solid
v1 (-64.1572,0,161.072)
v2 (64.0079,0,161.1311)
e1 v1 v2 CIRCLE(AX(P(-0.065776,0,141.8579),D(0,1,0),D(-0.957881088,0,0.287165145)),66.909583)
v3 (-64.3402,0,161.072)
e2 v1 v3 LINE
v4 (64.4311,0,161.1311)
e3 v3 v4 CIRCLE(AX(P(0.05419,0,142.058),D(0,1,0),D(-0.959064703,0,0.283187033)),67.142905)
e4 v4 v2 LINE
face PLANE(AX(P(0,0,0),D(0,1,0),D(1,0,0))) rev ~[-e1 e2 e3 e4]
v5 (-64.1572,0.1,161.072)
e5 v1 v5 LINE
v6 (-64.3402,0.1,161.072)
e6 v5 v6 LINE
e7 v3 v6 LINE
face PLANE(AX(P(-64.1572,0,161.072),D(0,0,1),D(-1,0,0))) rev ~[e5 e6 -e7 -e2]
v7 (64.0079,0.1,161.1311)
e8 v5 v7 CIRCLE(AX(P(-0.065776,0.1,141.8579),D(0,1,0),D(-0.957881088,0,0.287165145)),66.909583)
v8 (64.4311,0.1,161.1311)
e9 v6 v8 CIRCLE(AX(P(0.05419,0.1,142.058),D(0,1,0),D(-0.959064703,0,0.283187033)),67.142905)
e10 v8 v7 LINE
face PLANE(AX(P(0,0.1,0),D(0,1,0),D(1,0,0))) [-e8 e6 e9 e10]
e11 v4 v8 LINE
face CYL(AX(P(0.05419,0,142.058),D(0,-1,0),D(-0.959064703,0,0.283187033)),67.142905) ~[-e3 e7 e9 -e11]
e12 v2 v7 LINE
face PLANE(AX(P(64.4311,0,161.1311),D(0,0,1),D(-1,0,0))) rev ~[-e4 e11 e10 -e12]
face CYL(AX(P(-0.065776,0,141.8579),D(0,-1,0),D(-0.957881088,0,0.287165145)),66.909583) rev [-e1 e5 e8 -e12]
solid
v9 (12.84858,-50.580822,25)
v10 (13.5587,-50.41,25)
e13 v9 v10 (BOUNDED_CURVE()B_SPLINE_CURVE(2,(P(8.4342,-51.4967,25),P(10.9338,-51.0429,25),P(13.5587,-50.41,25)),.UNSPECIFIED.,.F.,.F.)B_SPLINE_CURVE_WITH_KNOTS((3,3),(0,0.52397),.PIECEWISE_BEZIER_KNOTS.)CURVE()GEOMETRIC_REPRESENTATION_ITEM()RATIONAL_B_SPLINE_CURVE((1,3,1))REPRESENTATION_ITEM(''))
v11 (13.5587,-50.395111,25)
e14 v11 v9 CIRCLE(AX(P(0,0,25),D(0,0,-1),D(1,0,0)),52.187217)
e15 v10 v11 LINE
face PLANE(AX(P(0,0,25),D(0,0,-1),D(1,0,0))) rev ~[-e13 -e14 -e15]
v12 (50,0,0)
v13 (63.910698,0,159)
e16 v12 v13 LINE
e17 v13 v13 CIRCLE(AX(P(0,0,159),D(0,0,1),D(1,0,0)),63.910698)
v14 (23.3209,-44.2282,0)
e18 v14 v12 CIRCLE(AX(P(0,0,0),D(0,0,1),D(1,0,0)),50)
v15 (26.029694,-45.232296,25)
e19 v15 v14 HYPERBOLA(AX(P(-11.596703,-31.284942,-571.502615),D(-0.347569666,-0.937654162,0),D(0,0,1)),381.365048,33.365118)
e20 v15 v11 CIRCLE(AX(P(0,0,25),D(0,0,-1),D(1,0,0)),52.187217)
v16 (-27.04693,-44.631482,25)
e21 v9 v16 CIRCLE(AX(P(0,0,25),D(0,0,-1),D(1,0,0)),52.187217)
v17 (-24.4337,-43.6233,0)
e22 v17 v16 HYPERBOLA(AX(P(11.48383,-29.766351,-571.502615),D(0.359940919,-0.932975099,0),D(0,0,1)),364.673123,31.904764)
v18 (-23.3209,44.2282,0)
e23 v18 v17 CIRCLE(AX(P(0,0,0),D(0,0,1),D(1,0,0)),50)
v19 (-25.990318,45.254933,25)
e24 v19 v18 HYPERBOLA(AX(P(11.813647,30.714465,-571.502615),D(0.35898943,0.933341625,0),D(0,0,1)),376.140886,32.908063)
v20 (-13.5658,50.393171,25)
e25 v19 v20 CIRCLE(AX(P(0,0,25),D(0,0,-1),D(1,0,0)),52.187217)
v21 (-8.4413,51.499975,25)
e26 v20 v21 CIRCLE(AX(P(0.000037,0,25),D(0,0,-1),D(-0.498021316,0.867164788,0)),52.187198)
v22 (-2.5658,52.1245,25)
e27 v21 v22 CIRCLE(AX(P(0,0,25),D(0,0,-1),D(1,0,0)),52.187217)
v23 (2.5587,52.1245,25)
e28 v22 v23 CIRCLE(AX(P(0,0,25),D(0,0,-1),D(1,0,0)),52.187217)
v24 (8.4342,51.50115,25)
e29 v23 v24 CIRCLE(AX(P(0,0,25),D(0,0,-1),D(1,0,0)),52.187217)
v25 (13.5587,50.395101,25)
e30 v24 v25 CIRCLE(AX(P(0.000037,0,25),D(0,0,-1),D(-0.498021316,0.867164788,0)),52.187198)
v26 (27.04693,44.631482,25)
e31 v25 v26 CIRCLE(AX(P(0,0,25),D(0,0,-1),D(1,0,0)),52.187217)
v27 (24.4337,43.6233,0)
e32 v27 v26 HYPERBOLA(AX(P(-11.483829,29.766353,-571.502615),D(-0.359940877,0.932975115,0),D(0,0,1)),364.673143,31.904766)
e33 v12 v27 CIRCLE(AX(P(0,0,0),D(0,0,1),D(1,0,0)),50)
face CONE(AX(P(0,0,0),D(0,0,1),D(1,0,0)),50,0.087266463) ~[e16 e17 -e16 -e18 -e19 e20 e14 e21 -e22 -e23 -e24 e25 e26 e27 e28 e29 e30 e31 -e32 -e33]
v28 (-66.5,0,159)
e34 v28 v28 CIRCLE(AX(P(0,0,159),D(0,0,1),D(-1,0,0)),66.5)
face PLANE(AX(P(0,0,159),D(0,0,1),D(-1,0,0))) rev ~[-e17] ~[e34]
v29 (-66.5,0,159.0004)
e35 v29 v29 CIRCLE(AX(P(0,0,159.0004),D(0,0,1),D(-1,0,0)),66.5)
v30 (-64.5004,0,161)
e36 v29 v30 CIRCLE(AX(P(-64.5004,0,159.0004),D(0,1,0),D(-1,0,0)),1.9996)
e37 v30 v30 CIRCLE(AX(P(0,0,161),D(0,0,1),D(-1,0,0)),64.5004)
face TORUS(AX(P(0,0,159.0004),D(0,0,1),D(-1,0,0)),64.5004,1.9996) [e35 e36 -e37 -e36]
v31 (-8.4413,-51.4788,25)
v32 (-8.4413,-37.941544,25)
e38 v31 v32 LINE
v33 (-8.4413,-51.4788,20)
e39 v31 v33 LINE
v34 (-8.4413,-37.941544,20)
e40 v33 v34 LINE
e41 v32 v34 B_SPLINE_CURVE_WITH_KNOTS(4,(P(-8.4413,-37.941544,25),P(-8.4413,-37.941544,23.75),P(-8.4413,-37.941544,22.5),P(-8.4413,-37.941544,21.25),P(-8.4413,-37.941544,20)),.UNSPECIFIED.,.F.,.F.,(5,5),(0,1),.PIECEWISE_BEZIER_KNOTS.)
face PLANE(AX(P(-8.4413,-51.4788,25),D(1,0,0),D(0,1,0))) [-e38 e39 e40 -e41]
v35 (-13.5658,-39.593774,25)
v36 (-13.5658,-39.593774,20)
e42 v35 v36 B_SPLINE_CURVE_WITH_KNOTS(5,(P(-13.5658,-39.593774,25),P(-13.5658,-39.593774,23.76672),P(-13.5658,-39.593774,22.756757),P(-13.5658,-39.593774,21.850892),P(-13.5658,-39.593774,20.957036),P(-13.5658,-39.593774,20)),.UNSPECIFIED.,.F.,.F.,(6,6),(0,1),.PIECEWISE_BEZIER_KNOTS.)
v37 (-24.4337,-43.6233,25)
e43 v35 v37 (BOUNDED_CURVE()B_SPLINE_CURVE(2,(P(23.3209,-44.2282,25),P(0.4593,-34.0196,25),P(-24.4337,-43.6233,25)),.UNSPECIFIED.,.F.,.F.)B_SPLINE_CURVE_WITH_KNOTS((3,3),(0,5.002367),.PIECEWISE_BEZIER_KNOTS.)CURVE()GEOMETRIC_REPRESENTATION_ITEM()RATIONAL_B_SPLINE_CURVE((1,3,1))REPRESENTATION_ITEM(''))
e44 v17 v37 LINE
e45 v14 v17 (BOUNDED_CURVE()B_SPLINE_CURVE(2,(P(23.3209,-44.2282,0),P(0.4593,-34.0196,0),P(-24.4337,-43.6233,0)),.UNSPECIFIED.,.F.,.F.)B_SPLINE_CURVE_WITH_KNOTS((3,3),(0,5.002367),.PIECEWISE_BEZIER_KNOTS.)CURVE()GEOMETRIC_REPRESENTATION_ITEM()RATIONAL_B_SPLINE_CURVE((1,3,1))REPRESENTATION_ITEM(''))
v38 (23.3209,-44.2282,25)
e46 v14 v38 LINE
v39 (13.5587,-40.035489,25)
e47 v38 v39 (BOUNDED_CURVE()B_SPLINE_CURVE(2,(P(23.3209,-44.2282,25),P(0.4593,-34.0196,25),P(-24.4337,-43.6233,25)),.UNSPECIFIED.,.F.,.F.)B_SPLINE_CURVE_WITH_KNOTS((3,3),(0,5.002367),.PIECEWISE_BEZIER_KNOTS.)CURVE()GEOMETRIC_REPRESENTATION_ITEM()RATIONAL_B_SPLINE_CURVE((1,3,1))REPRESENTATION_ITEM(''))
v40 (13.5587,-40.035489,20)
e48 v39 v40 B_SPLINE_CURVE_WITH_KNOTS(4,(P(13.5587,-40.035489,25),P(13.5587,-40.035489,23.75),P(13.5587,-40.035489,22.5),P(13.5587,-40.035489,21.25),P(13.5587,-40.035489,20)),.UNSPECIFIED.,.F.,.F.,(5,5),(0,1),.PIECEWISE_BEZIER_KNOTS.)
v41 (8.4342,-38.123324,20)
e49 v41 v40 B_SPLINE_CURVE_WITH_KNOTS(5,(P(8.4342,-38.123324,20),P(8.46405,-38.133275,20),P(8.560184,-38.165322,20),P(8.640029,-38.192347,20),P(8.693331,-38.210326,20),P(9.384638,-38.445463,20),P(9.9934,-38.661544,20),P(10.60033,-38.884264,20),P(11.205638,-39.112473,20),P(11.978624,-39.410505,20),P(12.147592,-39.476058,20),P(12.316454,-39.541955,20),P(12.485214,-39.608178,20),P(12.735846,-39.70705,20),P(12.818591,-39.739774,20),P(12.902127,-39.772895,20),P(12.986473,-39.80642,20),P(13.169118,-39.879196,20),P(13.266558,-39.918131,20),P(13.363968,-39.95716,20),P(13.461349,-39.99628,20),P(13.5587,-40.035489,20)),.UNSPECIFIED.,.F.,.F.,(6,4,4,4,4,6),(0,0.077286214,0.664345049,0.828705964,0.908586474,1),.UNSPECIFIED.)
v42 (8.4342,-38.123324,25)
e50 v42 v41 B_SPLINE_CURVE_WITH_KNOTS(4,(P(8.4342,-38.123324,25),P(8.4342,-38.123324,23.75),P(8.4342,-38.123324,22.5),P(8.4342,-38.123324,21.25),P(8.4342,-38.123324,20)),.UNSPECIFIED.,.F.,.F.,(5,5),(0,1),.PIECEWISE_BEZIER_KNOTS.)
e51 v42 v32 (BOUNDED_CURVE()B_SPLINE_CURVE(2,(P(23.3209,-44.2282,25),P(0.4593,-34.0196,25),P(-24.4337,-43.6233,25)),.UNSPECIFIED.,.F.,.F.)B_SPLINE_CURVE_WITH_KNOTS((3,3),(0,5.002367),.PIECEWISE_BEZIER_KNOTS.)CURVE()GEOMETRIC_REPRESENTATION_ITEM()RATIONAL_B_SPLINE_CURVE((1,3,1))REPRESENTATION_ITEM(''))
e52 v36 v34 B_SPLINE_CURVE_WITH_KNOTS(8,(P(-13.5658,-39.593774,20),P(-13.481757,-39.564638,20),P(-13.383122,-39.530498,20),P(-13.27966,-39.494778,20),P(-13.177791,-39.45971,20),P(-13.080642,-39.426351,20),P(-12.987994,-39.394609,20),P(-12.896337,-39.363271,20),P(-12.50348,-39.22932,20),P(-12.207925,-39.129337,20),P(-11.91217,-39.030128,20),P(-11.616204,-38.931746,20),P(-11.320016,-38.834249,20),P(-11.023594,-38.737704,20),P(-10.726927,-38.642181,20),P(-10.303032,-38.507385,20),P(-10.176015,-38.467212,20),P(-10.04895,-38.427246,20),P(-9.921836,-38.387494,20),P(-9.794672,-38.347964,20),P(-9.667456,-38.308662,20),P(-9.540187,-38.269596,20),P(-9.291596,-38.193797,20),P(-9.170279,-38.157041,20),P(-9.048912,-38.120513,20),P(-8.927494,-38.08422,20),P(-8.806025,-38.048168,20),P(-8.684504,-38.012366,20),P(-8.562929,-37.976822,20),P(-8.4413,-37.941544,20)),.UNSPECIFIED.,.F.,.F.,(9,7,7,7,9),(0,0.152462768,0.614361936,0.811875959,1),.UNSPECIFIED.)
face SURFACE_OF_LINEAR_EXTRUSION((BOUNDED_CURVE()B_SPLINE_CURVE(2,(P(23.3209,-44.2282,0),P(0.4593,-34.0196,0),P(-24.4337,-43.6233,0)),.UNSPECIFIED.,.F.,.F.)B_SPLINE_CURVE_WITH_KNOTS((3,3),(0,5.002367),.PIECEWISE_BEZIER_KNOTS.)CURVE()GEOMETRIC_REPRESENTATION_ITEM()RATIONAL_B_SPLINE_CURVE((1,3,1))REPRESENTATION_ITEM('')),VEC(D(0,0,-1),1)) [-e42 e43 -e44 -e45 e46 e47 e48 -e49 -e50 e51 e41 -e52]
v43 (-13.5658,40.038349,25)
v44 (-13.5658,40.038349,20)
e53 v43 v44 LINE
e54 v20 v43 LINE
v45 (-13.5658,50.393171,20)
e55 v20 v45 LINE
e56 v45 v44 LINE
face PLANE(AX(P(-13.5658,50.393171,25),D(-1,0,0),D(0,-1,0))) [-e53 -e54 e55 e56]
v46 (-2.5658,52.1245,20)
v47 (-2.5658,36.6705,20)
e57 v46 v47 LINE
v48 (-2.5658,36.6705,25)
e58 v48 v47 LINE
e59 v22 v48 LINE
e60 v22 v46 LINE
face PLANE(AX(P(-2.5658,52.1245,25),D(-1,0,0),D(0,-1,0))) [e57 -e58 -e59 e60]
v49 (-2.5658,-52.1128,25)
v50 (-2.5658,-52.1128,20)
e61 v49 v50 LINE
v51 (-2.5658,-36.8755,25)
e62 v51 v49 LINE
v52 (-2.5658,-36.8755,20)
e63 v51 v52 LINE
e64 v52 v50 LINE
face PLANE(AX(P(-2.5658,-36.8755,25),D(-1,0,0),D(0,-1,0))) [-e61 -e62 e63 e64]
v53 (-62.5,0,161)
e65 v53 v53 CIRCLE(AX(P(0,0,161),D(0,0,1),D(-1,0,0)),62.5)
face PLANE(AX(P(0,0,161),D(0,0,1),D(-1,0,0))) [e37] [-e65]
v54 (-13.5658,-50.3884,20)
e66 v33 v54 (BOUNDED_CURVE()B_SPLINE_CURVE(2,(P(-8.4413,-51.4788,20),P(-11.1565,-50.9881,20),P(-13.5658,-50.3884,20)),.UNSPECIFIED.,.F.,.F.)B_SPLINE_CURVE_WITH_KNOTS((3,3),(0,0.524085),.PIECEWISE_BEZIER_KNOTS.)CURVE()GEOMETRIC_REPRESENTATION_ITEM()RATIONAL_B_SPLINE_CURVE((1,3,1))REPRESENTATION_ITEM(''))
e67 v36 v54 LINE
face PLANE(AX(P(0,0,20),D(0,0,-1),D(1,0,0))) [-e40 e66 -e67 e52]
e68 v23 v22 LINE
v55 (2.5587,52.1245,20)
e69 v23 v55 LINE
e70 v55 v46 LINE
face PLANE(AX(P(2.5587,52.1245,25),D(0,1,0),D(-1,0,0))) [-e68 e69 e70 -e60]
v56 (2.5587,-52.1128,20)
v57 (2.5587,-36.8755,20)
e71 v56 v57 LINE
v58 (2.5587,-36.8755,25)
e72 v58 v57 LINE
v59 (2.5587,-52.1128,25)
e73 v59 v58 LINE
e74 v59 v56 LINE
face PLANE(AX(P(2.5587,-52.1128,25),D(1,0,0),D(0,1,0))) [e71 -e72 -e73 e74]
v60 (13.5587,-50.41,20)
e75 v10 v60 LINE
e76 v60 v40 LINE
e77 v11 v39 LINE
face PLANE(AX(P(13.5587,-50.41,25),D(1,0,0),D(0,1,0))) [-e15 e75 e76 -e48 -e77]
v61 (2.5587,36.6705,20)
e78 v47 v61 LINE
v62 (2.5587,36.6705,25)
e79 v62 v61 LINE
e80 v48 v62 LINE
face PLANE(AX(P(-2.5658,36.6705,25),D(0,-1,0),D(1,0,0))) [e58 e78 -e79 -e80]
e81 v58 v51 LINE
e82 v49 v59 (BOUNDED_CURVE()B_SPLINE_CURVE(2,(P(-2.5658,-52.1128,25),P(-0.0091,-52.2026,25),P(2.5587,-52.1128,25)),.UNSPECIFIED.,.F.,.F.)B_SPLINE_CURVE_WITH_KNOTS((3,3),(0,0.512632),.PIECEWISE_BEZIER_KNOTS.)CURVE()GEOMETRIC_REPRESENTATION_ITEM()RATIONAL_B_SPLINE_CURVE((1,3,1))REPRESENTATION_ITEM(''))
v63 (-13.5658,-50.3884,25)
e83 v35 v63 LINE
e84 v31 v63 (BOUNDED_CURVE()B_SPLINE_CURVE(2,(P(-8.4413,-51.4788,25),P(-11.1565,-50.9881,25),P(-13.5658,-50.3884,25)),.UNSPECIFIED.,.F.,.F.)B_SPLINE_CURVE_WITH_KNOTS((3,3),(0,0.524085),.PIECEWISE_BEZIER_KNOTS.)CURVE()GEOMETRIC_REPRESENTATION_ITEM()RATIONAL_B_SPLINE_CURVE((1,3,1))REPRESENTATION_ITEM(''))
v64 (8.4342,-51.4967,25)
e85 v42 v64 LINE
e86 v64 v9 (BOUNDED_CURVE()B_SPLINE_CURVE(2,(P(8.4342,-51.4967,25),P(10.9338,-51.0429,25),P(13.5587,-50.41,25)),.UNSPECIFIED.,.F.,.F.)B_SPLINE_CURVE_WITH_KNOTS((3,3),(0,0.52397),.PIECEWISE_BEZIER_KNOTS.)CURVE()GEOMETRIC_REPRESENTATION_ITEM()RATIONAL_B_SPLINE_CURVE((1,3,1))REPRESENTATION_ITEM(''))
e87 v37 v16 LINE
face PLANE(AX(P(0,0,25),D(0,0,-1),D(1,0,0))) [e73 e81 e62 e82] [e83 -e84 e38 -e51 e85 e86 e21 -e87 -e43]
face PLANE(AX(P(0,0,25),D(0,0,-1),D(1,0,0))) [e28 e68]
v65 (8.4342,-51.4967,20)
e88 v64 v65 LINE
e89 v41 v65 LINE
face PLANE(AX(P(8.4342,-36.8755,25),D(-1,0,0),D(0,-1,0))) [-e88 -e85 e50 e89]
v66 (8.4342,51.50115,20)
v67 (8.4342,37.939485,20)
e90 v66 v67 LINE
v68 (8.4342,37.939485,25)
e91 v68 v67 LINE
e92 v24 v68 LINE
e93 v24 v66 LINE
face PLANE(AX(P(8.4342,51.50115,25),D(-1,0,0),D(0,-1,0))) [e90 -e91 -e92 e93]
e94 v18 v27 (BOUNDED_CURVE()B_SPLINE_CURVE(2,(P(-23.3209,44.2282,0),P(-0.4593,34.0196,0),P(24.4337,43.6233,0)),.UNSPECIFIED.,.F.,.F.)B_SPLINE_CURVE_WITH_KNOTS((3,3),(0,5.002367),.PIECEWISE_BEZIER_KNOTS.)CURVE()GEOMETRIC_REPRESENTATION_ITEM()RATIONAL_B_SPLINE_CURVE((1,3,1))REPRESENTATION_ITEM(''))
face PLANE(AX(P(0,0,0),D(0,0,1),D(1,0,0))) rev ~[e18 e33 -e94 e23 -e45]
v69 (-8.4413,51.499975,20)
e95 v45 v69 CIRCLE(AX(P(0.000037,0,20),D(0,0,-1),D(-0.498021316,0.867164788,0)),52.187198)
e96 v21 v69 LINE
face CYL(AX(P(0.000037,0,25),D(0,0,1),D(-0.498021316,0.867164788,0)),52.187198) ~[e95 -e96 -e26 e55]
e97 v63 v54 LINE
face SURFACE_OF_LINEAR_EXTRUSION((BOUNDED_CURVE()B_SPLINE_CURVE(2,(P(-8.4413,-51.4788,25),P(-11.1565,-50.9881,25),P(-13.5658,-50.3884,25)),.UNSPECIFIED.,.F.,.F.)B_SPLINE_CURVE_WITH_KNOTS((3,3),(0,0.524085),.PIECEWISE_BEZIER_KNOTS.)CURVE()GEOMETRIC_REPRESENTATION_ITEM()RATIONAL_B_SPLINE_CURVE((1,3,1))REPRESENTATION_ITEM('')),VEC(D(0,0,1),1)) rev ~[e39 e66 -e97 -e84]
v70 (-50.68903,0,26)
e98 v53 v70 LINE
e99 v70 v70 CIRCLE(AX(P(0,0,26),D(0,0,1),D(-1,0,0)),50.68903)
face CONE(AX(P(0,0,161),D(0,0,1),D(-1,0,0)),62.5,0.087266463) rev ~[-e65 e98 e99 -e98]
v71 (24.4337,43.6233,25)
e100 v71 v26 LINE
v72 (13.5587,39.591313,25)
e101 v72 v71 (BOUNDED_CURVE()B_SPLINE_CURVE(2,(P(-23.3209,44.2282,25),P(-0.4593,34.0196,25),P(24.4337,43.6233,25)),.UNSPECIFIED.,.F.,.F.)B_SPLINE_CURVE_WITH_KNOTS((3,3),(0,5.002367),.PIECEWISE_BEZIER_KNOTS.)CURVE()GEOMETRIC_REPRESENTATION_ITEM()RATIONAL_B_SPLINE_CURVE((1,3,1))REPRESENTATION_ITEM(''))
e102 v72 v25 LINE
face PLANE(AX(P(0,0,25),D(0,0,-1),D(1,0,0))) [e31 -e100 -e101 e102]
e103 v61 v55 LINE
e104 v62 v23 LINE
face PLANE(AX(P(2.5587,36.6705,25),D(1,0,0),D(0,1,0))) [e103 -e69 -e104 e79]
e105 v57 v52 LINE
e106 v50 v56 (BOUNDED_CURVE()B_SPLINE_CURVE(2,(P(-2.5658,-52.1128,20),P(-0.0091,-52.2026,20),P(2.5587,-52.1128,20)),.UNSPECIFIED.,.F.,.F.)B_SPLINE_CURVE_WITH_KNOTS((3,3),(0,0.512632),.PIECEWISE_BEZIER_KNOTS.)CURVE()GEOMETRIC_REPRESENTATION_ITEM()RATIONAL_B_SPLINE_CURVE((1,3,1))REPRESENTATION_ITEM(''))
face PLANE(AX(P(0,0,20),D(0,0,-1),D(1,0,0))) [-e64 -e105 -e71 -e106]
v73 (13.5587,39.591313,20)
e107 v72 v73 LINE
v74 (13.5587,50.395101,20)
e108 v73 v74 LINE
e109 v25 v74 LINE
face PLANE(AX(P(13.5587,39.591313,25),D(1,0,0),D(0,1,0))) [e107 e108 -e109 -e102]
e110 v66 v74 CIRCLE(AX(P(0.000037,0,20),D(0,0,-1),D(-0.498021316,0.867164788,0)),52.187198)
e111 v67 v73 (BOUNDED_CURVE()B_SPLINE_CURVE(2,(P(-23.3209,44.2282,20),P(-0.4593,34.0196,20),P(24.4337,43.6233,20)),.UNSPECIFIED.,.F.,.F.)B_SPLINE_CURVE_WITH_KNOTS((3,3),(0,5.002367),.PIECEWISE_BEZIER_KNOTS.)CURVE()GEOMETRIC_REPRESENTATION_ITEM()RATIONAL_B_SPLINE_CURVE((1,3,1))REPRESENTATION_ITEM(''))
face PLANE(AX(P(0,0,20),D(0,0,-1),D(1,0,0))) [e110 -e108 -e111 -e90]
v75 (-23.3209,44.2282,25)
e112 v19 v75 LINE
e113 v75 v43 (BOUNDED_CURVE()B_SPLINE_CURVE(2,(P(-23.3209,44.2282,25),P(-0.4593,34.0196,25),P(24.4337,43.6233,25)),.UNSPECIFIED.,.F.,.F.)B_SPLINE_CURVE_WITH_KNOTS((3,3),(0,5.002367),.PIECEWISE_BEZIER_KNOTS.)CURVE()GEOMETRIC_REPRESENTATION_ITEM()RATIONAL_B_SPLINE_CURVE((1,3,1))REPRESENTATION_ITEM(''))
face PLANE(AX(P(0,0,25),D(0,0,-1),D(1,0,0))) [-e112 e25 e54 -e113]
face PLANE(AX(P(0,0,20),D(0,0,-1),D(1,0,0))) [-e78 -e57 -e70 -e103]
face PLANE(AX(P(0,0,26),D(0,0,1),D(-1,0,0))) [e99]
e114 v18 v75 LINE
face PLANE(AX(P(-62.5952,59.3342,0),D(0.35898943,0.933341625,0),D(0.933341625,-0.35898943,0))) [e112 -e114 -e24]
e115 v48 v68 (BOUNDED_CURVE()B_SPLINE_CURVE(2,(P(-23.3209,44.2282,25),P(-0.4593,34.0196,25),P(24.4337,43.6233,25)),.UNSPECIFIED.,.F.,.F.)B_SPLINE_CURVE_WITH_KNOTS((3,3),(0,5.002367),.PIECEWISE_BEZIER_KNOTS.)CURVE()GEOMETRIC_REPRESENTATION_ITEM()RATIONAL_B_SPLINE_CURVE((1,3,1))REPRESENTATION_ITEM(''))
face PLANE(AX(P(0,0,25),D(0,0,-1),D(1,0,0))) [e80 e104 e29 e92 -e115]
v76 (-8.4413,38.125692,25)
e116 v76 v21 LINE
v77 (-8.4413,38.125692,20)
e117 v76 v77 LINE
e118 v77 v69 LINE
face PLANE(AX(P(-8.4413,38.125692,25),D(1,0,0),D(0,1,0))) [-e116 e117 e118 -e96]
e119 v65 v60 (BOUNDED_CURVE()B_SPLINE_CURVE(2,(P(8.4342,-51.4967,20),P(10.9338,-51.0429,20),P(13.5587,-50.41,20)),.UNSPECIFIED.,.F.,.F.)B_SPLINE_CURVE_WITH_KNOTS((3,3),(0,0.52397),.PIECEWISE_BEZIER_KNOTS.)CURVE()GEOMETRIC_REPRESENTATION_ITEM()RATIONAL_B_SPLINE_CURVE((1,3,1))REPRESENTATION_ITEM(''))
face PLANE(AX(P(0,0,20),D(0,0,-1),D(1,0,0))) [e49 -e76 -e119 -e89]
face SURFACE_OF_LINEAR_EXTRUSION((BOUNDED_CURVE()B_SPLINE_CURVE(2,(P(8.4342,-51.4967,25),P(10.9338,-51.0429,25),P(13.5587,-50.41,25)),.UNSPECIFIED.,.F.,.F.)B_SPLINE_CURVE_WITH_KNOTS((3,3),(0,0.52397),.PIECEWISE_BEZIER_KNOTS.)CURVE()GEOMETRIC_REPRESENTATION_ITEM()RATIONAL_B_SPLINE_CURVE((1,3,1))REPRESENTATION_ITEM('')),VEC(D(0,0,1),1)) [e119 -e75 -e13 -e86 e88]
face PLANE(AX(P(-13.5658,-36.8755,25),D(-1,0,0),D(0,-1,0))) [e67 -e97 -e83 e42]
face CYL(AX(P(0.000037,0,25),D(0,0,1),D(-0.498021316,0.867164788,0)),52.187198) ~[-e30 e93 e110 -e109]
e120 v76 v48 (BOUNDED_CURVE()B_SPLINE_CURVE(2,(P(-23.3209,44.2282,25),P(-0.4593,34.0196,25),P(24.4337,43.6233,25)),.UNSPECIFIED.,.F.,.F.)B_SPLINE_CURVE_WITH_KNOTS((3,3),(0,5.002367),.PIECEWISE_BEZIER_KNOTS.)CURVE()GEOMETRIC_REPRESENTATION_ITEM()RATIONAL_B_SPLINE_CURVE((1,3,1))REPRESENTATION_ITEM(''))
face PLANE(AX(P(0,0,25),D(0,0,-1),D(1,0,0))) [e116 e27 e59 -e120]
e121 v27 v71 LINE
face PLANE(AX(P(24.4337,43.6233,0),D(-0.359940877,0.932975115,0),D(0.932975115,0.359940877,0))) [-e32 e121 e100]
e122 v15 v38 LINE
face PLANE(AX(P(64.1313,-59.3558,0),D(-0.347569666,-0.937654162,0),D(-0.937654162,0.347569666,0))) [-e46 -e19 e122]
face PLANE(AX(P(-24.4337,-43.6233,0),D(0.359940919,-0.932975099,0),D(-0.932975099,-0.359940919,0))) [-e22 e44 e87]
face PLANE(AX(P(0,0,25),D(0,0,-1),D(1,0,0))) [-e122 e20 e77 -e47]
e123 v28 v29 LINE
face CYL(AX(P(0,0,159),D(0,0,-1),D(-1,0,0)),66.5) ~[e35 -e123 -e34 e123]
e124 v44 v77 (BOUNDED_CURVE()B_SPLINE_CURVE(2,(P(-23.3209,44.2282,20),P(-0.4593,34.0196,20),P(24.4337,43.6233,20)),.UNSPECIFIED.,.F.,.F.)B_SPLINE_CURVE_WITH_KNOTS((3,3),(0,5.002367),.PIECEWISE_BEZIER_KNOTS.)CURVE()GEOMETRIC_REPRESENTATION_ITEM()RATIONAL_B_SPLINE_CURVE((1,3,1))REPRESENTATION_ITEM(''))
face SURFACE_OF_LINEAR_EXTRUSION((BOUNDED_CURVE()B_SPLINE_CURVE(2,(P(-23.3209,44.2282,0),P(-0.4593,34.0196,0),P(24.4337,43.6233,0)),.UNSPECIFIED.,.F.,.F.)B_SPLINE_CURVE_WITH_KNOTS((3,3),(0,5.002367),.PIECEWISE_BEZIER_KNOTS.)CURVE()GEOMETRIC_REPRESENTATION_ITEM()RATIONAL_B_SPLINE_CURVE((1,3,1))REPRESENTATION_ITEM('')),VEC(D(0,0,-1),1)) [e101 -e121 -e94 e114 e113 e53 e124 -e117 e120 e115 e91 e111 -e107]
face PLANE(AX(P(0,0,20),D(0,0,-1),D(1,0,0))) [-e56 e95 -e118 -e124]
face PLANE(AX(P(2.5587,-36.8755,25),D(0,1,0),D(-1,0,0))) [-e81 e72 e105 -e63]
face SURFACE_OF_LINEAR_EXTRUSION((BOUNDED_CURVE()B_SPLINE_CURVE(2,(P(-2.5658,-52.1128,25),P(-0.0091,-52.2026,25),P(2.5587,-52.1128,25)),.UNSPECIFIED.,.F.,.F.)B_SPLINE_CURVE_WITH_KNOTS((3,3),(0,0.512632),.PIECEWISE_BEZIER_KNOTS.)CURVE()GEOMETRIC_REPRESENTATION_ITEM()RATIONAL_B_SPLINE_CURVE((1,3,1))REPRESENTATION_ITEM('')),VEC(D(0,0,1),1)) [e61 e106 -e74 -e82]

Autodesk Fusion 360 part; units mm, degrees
sketch "Sketch1" plane through (0, 0, 0) normal (0, 0, 1) x (1, 0, 0)
  circle A0 centre (0, 0) radius 50
  dimension "d1" = 100
extrude "Extrude1" add sketch "Sketch1" along normal blind 159 draft 5 makes body 1
sketch "Sketch2" plane through (0, 0, 159) normal (0, 0, 1) x (-1, 0, 0)
  circle A0 centre (0, 0) radius 63.9107
  circle A1 centre (0, 0) radius 66.5
  dimension "d4" = 133
extrude "Extrude2" add sketch "Sketch2" along normal blind 2 contours A0 | A1 bodies 1
fillet "Fillet1" radius 2 1 edges at (61.9998, 24.0474, 161) on bodies 1
sketch "Sketch3" plane through (0, 0, 0) normal (0, 0, -1) x (1, 0, 0)
  circle A0 centre (0, 0) radius 50
  spline S0 degree 2 poles (-23.3209, -44.2282) (-0.4593, -34.0196) (24.4337, -43.6233) knots 0 0 0 5.002367 5.002367 5.002367 weights 1 3 1
  spline S1 degree 2 poles (23.3209, 44.2282) (0.4593, 34.0196) (-24.4337, 43.6233) knots 0 0 0 5.002367 5.002367 5.002367 weights 1 3 1
  line L0 (-24.4337, 43.6233) -> (-65.2127, 59.3558)
  line L1 (-65.2127, 59.3558) -> (25.469, 113.112)
  line L2 (25.469, 113.112) -> (64.1313, 59.3558)
  line L3 (64.1313, 59.3558) -> (23.3209, 44.2282)
  line L4 (24.4337, -43.6233) -> (80.8509, -65.389)
  line L5 (80.8509, -65.389) -> (-53.5394, -115.2046)
  line L6 (-53.5394, -115.2046) -> (-62.5952, -59.3342)
  line L7 (-62.5952, -59.3342) -> (-23.3209, -44.2282)
  dimension "d10" = 360
extrude "Extrude3" cut sketch "Sketch3" against normal blind 25 contours A0 S1 | A0 L0 L1 L2 L3 | A0 L4 L5 L6 L7 | A0 S0 bodies 1
sketch "Sketch4" plane through (0, 0, 25) normal (0, 0, -1) x (1, 0, 0)
  arc A0 (-25.9903, -45.2549) -> (27.0469, -44.6315) centre (0, 0) ccw
  line L0 (27.0469, -44.6315) -> (24.4337, -43.6233)
  spline S0 degree 2 poles (-23.3209, -44.2282) (-0.4593, -34.0196) (24.4337, -43.6233) knots 0 0 0 5.002367 5.002367 5.002367 weights 1 3 1
  line L1 (-23.3209, -44.2282) -> (-25.9903, -45.2549)
  line L2 (-2.5658, -36.6705) -> (2.5587, -36.6705)
  line L3 (2.5587, -36.6705) -> (2.5587, -52.1245)
  line L4 (2.5587, -52.1245) -> (-2.5658, -52.1245)
  line L5 (-2.5658, -52.1245) -> (-2.5658, -36.6705)
  line L6 (13.5587, -36.6705) -> (13.5587, -52.1245)
  line L7 (13.5587, -52.1245) -> (8.4342, -52.1245)
  line L8 (8.4342, -52.1245) -> (8.4342, -36.6705)
  line L9 (8.4342, -36.6705) -> (13.5587, -36.6705)
  line L10 (-13.5658, -52.1245) -> (-13.5658, -36.6705)
  line L11 (-13.5658, -36.6705) -> (-8.4413, -36.6705)
  line L12 (-8.4413, -36.6705) -> (-8.4413, -52.1245)
  line L13 (-8.4413, -52.1245) -> (-13.5658, -52.1245)
  line L14 (-2.5658, 36.8755) -> (-2.5658, 52.1128)
  line L15 (2.5587, 52.1128) -> (2.5587, 36.8755)
  line L16 (2.5587, 36.8755) -> (-2.5658, 36.8755)
  line L17 (13.5587, 50.41) -> (13.5587, 36.8755)
  line L18 (13.5587, 36.8755) -> (8.4342, 36.8755)
  line L19 (8.4342, 36.8755) -> (8.4342, 51.4967)
  line L20 (-13.5658, 36.8755) -> (-13.5658, 50.3884)
  line L21 (-8.4413, 36.8755) -> (-13.5658, 36.8755)
  line L22 (-8.4413, 51.4788) -> (-8.4413, 36.8755)
  spline S1 degree 2 poles (-8.4413, 51.4788) (-11.1565, 50.9881) (-13.5658, 50.3884) knots 0 0 0 0.524085 0.524085 0.524085 weights 1 3 1
  spline S2 degree 2 poles (-2.5658, 52.1128) (-0.0091, 52.2026) (2.5587, 52.1128) knots 0 0 0 0.512632 0.512632 0.512632 weights 1 3 1
  spline S3 degree 2 poles (8.4342, 51.4967) (10.9338, 51.0429) (13.5587, 50.41) knots 0 0 0 0.52397 0.52397 0.52397 weights 1 3 1
extrude "Extrude4" add sketch "Sketch4" along normal blind 5 contours L2 L3 L4 L5 | A0 S0 L10 L12 | A0 S0 L6 L8 | L14 L15 L16 S2 | L17 L18 L19 S3 | L20 L21 L22 S1 bodies 1
sketch "Sketch5" plane through (0, 0, 161) normal (0, 0, 1) x (-1, 0, 0)
  circle A0 centre (0, 0) radius 64.5
  circle A1 centre (0, 0) radius 62.5
  dimension "d15" = 125
extrude "Extrude5" cut sketch "Sketch5" against normal blind 135 draft -5 contours A1 bodies 1
sketch "Sketch6" plane through (0, 0, 0) normal (0, 1, 0) x (1, 0, 0)
  arc A0 (-64.3402, -161.072) -> (64.4311, -161.1311) centre (0.0542, -142.058) ccw
  arc A1 (-64.1572, -161.072) -> (64.0079, -161.1311) centre (-0.0658, -141.8579) ccw
  line L0 (64.4311, -161.1311) -> (64.0079, -161.1311)
  line L1 (-64.1572, -161.072) -> (-64.3402, -161.072)
extrude "Extrude6" add sketch "Sketch6" along normal blind 0.1 separate body makes body 2
